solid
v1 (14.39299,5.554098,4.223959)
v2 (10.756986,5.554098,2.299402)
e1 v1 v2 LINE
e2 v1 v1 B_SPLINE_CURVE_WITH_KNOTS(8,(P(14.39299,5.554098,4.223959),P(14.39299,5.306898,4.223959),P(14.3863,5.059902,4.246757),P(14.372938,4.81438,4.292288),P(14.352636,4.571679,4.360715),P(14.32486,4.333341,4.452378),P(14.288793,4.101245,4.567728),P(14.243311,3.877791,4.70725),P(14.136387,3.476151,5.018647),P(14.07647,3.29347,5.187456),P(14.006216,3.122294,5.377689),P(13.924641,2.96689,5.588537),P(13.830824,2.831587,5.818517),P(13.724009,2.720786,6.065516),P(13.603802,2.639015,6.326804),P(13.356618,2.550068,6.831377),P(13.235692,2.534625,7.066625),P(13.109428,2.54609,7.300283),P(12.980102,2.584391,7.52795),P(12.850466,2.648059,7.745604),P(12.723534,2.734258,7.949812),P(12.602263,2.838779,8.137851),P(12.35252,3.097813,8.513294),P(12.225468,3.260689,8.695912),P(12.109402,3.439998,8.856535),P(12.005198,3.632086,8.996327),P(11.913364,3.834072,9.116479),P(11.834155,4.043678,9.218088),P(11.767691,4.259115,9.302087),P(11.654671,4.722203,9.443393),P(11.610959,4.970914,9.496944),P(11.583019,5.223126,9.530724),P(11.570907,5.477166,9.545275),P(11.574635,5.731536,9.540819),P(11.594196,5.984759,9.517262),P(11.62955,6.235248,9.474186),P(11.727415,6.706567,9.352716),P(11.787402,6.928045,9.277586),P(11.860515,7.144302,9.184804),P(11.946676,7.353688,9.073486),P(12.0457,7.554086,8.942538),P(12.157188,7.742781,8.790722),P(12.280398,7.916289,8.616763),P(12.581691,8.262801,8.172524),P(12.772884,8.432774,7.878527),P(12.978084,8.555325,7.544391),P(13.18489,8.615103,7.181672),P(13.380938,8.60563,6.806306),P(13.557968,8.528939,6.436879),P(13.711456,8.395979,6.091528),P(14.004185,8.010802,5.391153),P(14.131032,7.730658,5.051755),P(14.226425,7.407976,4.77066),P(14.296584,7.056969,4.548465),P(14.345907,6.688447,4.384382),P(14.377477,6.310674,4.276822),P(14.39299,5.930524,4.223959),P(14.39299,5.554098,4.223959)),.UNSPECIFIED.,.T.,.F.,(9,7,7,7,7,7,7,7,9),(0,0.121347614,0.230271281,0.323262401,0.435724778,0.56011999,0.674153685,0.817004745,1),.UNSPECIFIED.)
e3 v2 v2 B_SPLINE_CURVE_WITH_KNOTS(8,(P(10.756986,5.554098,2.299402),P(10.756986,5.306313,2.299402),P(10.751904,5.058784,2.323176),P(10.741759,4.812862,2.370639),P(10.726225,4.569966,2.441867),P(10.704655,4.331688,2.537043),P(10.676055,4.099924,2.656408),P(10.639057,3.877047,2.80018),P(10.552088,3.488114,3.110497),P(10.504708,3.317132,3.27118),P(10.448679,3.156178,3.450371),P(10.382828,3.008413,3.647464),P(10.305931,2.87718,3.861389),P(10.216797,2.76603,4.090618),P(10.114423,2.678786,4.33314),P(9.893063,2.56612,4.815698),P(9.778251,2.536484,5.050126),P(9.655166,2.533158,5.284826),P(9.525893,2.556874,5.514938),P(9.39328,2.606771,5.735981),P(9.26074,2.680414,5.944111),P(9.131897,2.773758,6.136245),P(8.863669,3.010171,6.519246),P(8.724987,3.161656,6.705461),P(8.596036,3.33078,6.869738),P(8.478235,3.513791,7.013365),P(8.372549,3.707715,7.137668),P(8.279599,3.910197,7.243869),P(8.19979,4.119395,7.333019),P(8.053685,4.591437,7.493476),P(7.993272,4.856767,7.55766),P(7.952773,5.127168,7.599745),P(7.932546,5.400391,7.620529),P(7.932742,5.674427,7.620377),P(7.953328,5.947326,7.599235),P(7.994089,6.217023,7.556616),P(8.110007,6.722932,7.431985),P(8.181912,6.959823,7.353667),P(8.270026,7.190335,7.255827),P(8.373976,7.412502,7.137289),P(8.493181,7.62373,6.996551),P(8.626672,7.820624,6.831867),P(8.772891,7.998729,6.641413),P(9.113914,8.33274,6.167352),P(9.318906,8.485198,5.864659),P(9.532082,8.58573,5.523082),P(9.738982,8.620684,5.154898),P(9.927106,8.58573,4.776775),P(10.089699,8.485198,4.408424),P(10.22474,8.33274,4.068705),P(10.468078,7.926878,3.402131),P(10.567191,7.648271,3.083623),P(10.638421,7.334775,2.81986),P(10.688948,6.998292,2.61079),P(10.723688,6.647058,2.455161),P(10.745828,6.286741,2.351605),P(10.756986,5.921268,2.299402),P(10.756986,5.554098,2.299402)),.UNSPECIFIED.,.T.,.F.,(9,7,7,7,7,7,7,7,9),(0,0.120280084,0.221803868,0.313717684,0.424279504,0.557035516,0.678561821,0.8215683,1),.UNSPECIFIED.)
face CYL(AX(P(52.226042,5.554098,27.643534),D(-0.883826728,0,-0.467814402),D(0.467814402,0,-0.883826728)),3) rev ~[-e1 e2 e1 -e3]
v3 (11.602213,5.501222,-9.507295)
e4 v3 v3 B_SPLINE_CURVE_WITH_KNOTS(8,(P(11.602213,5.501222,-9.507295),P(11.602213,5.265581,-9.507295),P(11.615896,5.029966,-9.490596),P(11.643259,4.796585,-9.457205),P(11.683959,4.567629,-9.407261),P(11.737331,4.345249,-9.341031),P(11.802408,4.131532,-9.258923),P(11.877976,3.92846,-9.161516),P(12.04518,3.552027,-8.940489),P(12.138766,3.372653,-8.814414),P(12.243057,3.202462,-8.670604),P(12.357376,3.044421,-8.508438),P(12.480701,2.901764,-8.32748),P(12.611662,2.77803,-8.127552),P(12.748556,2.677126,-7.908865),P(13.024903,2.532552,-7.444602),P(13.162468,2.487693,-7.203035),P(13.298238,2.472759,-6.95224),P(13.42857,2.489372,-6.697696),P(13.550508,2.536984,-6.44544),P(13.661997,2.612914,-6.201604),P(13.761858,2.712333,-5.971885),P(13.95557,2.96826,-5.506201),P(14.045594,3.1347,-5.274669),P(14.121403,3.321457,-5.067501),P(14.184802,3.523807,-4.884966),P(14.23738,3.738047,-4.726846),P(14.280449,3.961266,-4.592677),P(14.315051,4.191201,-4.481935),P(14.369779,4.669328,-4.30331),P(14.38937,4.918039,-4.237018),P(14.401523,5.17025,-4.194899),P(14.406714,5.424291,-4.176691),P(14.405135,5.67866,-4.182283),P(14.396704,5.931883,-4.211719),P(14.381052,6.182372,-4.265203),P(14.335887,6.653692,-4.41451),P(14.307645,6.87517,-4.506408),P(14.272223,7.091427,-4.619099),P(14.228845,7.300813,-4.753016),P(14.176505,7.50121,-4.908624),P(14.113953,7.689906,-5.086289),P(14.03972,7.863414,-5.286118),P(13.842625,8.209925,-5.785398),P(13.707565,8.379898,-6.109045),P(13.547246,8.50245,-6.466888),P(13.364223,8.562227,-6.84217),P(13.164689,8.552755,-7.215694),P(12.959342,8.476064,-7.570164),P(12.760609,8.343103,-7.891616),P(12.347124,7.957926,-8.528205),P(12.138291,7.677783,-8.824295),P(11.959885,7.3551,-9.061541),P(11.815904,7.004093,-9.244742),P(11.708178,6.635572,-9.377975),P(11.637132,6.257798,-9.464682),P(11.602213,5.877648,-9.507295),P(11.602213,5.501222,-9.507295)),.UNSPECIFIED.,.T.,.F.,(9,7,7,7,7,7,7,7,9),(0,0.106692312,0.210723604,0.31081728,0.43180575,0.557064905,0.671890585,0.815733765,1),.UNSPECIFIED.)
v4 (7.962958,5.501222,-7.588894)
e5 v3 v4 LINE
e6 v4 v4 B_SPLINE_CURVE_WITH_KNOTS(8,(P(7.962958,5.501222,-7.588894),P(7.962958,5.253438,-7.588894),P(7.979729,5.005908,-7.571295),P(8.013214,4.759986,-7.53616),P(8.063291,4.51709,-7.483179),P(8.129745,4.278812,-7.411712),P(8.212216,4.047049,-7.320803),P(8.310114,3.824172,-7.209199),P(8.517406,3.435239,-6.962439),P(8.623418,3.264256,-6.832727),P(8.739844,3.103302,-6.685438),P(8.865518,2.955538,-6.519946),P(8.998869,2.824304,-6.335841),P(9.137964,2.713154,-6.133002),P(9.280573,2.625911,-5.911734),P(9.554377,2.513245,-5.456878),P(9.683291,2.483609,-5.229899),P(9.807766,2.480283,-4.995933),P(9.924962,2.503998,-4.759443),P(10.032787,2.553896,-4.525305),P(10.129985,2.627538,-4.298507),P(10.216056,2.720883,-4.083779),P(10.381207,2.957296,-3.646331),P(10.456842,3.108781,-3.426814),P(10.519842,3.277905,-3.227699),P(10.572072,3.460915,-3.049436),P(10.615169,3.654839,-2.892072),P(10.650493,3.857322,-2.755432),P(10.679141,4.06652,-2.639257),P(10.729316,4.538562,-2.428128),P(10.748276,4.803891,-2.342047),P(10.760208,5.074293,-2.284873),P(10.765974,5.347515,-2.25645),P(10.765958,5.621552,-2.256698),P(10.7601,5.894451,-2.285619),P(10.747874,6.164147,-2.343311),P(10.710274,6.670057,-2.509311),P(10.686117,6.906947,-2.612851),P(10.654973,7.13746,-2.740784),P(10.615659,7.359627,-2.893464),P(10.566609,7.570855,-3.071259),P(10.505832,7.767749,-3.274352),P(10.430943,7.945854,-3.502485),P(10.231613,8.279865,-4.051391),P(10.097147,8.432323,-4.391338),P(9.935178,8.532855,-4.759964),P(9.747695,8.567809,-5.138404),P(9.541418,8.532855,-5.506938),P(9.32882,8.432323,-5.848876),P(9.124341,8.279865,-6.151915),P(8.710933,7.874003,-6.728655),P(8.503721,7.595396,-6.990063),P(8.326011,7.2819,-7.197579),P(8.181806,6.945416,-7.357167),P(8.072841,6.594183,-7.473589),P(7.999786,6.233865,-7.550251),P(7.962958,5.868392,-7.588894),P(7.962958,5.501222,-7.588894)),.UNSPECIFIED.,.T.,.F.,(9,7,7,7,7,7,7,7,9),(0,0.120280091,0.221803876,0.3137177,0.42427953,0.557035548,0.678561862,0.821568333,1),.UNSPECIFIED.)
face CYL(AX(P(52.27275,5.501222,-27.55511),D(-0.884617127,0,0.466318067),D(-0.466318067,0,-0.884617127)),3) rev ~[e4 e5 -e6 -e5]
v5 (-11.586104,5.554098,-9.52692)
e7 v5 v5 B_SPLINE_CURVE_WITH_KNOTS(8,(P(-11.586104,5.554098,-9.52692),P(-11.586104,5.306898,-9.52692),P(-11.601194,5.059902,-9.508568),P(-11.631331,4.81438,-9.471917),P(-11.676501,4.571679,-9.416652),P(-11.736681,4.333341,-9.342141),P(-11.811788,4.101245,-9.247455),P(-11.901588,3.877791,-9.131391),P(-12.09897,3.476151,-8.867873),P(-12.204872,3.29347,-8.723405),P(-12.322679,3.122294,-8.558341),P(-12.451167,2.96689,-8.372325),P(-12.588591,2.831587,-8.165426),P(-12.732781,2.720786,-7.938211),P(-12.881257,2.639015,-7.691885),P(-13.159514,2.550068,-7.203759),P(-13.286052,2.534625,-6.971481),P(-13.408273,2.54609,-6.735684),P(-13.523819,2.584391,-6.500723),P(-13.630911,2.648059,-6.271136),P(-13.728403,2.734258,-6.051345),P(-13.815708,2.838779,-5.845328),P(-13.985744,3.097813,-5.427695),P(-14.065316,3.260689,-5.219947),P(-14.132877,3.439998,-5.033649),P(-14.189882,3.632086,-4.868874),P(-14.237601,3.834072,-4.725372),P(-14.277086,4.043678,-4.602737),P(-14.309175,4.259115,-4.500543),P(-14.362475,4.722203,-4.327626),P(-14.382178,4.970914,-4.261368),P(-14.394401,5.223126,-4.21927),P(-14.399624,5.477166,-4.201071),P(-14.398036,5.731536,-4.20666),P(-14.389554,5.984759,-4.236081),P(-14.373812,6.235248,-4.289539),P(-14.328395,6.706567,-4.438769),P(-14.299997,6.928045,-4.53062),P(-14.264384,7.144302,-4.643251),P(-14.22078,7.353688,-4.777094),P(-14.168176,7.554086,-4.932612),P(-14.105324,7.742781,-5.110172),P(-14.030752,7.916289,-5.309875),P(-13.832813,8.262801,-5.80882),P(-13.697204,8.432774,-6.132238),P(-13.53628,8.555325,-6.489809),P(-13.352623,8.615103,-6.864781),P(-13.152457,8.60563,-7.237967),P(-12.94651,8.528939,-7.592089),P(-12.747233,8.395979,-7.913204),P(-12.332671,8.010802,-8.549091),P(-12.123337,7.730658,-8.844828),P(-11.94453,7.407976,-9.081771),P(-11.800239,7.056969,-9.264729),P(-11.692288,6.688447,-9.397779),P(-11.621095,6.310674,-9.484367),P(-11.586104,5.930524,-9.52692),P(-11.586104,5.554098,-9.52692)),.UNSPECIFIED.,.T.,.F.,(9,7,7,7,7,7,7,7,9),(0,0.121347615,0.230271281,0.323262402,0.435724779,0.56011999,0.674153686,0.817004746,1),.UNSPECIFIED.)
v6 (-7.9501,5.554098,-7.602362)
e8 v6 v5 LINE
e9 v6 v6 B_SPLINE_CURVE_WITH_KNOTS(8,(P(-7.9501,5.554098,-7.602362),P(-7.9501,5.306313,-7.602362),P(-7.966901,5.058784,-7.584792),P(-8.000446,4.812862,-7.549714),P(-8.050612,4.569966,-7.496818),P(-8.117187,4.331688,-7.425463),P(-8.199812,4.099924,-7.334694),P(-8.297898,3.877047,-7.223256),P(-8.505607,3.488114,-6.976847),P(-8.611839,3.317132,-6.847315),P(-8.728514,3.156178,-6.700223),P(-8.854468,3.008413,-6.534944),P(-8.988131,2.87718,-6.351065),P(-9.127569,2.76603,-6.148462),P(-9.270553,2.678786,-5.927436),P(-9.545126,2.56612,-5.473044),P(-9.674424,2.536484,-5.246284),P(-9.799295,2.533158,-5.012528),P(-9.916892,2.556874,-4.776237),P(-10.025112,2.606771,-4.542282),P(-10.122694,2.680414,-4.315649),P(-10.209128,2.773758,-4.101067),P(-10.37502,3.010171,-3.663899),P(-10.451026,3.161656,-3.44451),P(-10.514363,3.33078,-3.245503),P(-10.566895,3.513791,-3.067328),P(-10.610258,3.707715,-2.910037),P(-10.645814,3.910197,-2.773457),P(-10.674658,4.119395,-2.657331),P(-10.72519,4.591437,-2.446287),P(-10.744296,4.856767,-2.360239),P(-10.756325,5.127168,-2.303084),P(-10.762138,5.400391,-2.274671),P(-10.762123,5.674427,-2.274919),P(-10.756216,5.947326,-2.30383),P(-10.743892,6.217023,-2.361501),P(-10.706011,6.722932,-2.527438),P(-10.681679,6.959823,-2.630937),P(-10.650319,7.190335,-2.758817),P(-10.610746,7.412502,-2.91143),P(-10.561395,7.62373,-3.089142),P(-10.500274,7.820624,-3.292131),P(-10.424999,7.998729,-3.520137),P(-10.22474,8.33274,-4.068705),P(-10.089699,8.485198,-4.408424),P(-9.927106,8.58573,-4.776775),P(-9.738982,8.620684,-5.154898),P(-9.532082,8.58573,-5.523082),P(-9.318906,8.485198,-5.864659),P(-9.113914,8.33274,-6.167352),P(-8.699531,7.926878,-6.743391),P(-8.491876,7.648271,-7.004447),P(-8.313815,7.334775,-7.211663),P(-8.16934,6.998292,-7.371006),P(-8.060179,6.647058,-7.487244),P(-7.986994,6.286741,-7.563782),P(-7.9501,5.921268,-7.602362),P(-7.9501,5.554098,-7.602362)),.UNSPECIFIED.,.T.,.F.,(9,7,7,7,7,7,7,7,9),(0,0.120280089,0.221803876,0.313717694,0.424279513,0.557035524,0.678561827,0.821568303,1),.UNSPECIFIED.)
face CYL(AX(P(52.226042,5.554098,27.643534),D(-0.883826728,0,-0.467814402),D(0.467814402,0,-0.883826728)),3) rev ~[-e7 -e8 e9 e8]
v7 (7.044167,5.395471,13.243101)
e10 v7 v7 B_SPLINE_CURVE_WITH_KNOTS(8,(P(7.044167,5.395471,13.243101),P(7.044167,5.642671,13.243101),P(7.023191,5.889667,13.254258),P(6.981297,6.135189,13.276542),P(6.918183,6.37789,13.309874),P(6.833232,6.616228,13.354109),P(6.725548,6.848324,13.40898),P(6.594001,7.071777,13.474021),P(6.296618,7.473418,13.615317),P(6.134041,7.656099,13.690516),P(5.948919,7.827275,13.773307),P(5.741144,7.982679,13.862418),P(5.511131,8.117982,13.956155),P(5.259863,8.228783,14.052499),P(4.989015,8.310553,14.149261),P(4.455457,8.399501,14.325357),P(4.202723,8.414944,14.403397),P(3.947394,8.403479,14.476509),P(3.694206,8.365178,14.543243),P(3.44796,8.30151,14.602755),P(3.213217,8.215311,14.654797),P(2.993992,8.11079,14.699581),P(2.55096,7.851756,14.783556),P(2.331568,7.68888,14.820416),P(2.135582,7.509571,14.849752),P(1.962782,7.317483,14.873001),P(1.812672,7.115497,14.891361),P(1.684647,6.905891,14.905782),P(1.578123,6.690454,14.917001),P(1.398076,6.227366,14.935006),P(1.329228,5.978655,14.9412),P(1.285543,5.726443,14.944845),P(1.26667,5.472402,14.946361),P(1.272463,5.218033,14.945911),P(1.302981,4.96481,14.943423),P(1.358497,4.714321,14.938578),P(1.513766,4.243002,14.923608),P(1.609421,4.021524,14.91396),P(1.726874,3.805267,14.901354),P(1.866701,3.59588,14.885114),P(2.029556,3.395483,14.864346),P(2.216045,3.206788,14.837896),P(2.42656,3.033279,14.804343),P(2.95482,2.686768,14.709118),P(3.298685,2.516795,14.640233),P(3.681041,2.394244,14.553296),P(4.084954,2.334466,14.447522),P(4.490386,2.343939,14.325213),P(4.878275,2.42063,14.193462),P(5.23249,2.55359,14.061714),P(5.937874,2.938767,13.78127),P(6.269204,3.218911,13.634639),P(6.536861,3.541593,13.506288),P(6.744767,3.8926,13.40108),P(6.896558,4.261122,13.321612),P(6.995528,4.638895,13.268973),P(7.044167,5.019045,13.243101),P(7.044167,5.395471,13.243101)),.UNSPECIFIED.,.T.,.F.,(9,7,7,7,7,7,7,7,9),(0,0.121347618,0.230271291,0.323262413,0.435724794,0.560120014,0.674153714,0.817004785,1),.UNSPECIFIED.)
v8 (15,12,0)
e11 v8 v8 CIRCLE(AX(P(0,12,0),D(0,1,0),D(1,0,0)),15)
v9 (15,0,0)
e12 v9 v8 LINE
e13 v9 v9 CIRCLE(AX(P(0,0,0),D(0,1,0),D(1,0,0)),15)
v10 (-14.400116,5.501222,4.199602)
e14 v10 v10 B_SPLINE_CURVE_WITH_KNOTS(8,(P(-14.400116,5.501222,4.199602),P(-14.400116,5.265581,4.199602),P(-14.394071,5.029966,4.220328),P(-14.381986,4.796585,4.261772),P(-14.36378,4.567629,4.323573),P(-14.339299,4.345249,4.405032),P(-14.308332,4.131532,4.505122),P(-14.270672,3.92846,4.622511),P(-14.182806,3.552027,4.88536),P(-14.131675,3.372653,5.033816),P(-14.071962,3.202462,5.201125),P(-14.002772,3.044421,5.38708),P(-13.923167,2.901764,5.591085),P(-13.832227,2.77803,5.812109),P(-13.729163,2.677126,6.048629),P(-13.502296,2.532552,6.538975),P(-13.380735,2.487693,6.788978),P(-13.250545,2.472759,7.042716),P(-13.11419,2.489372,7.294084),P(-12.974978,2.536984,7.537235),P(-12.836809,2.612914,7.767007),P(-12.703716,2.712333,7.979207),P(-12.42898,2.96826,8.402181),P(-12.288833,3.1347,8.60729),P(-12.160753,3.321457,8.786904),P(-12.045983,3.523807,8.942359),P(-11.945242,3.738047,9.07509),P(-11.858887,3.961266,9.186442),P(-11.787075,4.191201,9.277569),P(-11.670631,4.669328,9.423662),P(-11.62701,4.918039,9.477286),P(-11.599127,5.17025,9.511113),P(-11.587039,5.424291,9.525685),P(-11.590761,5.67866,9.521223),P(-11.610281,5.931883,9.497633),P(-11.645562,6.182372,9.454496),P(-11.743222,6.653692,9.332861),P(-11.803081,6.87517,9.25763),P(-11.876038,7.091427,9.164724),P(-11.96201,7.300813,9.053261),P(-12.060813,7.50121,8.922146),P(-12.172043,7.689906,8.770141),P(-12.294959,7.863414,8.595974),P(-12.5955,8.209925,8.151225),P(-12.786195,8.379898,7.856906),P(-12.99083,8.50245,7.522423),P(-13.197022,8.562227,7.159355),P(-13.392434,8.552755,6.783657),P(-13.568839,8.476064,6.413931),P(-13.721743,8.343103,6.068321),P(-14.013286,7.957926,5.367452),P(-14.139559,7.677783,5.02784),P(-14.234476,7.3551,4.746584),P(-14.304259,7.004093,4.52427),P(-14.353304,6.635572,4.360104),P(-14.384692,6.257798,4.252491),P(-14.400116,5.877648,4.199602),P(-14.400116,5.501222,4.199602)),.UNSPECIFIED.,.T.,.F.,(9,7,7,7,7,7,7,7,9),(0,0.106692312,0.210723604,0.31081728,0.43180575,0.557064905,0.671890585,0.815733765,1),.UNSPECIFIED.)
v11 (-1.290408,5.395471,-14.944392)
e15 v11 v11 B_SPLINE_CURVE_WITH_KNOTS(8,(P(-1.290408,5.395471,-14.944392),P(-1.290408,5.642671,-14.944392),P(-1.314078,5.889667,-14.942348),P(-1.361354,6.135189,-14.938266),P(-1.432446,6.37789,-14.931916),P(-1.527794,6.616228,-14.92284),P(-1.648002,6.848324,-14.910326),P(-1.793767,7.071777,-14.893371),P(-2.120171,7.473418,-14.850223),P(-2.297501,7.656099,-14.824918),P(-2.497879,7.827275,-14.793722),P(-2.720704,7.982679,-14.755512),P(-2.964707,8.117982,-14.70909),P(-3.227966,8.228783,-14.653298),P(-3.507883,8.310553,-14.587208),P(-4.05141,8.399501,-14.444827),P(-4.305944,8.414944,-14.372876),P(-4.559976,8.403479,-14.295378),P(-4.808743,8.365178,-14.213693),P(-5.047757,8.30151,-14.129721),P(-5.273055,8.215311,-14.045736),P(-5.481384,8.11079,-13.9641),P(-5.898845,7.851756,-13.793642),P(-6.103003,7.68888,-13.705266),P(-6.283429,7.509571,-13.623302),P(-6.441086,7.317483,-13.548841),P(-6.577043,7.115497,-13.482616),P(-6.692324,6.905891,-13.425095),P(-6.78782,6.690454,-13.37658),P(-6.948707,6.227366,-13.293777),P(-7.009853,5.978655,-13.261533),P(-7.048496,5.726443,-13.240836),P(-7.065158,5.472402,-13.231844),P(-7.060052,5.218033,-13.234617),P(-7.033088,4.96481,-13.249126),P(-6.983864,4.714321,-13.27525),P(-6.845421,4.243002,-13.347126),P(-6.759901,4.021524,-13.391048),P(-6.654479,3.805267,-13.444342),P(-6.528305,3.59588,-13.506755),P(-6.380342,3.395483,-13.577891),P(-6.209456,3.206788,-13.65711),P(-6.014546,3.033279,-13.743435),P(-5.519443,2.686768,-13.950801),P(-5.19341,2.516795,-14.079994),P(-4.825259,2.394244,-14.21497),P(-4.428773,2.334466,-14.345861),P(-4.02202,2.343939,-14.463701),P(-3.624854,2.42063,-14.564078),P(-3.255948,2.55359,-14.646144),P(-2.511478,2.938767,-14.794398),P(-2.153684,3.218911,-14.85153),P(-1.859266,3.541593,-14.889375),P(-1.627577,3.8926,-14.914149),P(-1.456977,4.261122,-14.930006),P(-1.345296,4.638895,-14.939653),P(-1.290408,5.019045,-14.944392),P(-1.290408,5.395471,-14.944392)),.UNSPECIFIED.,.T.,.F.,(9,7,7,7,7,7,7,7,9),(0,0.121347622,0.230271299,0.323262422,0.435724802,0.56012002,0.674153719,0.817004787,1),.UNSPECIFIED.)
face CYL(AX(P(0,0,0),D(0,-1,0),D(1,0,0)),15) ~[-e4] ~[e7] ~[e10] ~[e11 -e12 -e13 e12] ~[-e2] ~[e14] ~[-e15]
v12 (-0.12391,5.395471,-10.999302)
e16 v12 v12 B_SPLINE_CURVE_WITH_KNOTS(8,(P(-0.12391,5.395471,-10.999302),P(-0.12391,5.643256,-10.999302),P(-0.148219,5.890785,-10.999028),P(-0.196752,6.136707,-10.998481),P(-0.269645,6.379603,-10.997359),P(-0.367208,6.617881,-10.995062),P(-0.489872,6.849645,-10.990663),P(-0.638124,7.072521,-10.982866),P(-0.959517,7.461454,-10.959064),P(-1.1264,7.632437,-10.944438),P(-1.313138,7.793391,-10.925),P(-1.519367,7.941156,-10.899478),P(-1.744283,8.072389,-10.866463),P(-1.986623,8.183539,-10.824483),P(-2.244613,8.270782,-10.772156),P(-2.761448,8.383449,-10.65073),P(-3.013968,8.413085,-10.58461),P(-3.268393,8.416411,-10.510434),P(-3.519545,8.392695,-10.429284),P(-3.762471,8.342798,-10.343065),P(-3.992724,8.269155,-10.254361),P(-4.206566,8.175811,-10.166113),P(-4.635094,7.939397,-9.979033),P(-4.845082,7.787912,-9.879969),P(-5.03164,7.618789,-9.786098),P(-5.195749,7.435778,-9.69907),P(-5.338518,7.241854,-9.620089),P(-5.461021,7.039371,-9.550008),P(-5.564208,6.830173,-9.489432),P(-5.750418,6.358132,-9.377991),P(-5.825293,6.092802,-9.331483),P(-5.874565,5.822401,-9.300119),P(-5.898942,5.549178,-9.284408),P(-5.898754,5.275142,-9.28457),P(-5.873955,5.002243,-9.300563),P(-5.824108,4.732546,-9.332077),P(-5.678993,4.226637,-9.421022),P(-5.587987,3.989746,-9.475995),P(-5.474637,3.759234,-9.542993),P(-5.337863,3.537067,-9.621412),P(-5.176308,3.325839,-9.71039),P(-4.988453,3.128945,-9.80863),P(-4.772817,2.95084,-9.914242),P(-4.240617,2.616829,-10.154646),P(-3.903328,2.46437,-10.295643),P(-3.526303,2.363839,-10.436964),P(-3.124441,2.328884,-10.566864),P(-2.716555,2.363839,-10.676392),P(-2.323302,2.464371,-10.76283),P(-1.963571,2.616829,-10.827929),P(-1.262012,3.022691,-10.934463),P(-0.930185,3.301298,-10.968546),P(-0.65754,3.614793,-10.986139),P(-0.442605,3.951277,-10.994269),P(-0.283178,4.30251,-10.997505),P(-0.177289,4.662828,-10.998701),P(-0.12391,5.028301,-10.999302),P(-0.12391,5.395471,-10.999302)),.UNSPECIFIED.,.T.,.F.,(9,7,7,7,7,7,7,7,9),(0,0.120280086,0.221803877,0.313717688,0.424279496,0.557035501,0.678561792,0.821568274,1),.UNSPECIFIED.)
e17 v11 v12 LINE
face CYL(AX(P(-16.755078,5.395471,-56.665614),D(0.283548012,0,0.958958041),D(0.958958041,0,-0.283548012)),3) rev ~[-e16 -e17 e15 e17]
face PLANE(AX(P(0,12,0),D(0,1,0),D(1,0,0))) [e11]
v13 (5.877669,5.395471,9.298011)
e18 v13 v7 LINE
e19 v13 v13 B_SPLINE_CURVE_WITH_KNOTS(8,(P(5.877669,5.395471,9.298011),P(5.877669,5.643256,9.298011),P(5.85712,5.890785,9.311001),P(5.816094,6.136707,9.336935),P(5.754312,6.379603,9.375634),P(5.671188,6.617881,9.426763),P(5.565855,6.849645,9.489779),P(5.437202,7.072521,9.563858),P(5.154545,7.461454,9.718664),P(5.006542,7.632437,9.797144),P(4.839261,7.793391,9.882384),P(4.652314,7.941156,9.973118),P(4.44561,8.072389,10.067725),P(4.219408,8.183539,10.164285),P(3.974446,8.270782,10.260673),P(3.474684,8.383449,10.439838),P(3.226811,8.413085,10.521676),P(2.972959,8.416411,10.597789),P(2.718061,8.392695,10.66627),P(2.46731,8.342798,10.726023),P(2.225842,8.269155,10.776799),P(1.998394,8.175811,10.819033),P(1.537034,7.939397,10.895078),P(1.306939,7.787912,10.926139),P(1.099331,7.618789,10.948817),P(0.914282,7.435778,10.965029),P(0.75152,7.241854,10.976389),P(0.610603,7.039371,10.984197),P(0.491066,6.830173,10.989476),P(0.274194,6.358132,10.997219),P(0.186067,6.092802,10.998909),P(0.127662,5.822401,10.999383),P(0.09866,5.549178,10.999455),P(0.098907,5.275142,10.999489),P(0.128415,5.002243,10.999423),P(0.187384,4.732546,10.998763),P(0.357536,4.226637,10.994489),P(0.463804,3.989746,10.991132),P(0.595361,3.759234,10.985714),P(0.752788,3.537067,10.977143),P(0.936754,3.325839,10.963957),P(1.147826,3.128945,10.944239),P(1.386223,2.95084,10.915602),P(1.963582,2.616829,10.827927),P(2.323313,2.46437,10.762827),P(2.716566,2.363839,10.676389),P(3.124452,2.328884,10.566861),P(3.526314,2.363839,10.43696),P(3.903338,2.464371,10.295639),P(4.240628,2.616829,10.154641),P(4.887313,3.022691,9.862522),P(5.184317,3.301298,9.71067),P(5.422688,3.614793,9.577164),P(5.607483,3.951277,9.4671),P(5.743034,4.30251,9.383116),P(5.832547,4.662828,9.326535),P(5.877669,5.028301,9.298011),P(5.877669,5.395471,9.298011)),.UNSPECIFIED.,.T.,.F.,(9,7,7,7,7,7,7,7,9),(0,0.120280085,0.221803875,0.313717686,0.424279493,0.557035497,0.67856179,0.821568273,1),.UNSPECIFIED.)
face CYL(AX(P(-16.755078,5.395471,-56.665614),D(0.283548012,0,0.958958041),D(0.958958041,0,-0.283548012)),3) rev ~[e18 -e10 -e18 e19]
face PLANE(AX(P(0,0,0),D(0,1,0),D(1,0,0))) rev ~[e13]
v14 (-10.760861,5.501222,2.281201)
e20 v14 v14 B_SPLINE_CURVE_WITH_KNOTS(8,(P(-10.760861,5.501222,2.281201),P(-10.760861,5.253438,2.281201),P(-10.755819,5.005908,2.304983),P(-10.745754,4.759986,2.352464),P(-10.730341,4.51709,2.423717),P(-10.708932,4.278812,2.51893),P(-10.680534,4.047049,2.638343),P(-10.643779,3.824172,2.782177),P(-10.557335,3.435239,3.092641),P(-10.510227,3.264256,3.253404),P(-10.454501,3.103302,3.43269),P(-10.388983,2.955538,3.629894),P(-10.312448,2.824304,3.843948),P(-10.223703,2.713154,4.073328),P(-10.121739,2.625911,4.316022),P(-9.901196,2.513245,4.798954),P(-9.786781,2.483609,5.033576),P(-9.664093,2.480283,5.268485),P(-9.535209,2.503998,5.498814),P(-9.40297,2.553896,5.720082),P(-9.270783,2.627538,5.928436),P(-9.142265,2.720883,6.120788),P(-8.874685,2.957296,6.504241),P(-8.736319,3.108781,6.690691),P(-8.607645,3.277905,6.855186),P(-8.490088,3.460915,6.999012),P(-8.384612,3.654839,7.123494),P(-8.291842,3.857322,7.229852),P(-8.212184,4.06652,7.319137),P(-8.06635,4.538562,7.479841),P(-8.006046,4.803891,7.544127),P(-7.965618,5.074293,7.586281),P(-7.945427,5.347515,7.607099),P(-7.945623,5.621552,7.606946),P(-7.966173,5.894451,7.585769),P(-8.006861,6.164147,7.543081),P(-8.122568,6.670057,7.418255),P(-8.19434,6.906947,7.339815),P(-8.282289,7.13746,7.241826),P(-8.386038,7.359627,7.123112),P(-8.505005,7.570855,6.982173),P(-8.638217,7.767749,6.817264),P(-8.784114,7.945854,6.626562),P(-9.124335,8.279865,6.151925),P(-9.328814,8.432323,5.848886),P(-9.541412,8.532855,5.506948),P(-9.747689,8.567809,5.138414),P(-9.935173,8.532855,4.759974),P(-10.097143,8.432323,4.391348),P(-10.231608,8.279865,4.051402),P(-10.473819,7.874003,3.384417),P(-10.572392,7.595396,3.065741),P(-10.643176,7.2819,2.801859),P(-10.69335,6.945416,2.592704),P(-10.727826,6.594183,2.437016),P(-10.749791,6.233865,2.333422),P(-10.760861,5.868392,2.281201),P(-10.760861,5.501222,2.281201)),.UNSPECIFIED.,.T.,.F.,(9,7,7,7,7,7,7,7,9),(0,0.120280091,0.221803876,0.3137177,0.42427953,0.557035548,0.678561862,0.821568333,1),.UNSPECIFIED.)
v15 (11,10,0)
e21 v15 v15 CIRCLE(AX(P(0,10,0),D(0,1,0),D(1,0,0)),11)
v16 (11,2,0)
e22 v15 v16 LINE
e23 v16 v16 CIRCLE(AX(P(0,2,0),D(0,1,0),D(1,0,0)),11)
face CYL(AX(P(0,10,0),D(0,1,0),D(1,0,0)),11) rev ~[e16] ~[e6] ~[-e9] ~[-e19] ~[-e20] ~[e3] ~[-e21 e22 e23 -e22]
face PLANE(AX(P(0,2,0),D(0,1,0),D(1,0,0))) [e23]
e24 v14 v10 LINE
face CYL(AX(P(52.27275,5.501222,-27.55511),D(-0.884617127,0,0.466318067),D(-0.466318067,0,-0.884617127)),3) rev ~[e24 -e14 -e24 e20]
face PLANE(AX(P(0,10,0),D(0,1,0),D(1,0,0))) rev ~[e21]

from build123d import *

# Parameters (mm, degrees)
SKETCH6_R                          = 15
BOSS_EXTRUDE3_DEPTH                = 12
CUT_EXTRUDE3_START                 = -2
SKETCH8_R                          = 11
CUT_EXTRUDE3_DEPTH                 = 8
F_6_0_6_DIAMETER_HOLE3_D           = 6
F_6_0_6_DIAMETER_HOLE3_ON_FACE_2_D = 6
F_6_0_6_DIAMETER_HOLE3_ON_FACE_3_D = 6


with BuildPart() as part:
    # Sketch6 → Boss-Extrude3 (new body)
    with BuildSketch(Plane(origin=(0, 0, 0), x_dir=(1, 0, 0), z_dir=(0, 1, 0))):
        Circle(SKETCH6_R)
    extrude(amount=BOSS_EXTRUDE3_DEPTH)

    # Sketch8 → Cut-Extrude3 (cut)
    with BuildSketch(Plane(origin=(0, 12, 0), x_dir=(1, 0, 0), z_dir=(0, 1, 0)).offset(CUT_EXTRUDE3_START)):
        Circle(SKETCH8_R)
    extrude(amount=-CUT_EXTRUDE3_DEPTH, mode=Mode.SUBTRACT)

    # Ø6.0 (6) Diameter Hole3 (through all)
    with Locations(Plane(origin=(13.257400922, 5.554097503, 7.017216029), x_dir=(-0.467814402, 0, 0.883826728), z_dir=(0.883826728, 0, 0.467814402))):
        with Locations((1e-09, 0)):
            Hole(F_6_0_6_DIAMETER_HOLE3_D / 2)

    # Ø6.0 (6) Diameter Hole3 on face 2 (through all)
    with Locations(Plane(origin=(13.269259555, 5.5012221, -6.994765961), x_dir=(0.466318067, 0, 0.884617127), z_dir=(0.884617127, 0, -0.466318067))):
        with Locations((0, 0)):
            Hole(F_6_0_6_DIAMETER_HOLE3_ON_FACE_2_D / 2)

    # Ø6.0 (6) Diameter Hole3 on face 3 (through all)
    with Locations(Plane(origin=(-4.253214755, 5.395471292, -14.384372223), x_dir=(-0.958958041, 0, 0.283548012), z_dir=(-0.283548012, 0, -0.958958041))):
        with Locations((0, 0)):
            Hole(F_6_0_6_DIAMETER_HOLE3_ON_FACE_3_D / 2)


solid = part.part
